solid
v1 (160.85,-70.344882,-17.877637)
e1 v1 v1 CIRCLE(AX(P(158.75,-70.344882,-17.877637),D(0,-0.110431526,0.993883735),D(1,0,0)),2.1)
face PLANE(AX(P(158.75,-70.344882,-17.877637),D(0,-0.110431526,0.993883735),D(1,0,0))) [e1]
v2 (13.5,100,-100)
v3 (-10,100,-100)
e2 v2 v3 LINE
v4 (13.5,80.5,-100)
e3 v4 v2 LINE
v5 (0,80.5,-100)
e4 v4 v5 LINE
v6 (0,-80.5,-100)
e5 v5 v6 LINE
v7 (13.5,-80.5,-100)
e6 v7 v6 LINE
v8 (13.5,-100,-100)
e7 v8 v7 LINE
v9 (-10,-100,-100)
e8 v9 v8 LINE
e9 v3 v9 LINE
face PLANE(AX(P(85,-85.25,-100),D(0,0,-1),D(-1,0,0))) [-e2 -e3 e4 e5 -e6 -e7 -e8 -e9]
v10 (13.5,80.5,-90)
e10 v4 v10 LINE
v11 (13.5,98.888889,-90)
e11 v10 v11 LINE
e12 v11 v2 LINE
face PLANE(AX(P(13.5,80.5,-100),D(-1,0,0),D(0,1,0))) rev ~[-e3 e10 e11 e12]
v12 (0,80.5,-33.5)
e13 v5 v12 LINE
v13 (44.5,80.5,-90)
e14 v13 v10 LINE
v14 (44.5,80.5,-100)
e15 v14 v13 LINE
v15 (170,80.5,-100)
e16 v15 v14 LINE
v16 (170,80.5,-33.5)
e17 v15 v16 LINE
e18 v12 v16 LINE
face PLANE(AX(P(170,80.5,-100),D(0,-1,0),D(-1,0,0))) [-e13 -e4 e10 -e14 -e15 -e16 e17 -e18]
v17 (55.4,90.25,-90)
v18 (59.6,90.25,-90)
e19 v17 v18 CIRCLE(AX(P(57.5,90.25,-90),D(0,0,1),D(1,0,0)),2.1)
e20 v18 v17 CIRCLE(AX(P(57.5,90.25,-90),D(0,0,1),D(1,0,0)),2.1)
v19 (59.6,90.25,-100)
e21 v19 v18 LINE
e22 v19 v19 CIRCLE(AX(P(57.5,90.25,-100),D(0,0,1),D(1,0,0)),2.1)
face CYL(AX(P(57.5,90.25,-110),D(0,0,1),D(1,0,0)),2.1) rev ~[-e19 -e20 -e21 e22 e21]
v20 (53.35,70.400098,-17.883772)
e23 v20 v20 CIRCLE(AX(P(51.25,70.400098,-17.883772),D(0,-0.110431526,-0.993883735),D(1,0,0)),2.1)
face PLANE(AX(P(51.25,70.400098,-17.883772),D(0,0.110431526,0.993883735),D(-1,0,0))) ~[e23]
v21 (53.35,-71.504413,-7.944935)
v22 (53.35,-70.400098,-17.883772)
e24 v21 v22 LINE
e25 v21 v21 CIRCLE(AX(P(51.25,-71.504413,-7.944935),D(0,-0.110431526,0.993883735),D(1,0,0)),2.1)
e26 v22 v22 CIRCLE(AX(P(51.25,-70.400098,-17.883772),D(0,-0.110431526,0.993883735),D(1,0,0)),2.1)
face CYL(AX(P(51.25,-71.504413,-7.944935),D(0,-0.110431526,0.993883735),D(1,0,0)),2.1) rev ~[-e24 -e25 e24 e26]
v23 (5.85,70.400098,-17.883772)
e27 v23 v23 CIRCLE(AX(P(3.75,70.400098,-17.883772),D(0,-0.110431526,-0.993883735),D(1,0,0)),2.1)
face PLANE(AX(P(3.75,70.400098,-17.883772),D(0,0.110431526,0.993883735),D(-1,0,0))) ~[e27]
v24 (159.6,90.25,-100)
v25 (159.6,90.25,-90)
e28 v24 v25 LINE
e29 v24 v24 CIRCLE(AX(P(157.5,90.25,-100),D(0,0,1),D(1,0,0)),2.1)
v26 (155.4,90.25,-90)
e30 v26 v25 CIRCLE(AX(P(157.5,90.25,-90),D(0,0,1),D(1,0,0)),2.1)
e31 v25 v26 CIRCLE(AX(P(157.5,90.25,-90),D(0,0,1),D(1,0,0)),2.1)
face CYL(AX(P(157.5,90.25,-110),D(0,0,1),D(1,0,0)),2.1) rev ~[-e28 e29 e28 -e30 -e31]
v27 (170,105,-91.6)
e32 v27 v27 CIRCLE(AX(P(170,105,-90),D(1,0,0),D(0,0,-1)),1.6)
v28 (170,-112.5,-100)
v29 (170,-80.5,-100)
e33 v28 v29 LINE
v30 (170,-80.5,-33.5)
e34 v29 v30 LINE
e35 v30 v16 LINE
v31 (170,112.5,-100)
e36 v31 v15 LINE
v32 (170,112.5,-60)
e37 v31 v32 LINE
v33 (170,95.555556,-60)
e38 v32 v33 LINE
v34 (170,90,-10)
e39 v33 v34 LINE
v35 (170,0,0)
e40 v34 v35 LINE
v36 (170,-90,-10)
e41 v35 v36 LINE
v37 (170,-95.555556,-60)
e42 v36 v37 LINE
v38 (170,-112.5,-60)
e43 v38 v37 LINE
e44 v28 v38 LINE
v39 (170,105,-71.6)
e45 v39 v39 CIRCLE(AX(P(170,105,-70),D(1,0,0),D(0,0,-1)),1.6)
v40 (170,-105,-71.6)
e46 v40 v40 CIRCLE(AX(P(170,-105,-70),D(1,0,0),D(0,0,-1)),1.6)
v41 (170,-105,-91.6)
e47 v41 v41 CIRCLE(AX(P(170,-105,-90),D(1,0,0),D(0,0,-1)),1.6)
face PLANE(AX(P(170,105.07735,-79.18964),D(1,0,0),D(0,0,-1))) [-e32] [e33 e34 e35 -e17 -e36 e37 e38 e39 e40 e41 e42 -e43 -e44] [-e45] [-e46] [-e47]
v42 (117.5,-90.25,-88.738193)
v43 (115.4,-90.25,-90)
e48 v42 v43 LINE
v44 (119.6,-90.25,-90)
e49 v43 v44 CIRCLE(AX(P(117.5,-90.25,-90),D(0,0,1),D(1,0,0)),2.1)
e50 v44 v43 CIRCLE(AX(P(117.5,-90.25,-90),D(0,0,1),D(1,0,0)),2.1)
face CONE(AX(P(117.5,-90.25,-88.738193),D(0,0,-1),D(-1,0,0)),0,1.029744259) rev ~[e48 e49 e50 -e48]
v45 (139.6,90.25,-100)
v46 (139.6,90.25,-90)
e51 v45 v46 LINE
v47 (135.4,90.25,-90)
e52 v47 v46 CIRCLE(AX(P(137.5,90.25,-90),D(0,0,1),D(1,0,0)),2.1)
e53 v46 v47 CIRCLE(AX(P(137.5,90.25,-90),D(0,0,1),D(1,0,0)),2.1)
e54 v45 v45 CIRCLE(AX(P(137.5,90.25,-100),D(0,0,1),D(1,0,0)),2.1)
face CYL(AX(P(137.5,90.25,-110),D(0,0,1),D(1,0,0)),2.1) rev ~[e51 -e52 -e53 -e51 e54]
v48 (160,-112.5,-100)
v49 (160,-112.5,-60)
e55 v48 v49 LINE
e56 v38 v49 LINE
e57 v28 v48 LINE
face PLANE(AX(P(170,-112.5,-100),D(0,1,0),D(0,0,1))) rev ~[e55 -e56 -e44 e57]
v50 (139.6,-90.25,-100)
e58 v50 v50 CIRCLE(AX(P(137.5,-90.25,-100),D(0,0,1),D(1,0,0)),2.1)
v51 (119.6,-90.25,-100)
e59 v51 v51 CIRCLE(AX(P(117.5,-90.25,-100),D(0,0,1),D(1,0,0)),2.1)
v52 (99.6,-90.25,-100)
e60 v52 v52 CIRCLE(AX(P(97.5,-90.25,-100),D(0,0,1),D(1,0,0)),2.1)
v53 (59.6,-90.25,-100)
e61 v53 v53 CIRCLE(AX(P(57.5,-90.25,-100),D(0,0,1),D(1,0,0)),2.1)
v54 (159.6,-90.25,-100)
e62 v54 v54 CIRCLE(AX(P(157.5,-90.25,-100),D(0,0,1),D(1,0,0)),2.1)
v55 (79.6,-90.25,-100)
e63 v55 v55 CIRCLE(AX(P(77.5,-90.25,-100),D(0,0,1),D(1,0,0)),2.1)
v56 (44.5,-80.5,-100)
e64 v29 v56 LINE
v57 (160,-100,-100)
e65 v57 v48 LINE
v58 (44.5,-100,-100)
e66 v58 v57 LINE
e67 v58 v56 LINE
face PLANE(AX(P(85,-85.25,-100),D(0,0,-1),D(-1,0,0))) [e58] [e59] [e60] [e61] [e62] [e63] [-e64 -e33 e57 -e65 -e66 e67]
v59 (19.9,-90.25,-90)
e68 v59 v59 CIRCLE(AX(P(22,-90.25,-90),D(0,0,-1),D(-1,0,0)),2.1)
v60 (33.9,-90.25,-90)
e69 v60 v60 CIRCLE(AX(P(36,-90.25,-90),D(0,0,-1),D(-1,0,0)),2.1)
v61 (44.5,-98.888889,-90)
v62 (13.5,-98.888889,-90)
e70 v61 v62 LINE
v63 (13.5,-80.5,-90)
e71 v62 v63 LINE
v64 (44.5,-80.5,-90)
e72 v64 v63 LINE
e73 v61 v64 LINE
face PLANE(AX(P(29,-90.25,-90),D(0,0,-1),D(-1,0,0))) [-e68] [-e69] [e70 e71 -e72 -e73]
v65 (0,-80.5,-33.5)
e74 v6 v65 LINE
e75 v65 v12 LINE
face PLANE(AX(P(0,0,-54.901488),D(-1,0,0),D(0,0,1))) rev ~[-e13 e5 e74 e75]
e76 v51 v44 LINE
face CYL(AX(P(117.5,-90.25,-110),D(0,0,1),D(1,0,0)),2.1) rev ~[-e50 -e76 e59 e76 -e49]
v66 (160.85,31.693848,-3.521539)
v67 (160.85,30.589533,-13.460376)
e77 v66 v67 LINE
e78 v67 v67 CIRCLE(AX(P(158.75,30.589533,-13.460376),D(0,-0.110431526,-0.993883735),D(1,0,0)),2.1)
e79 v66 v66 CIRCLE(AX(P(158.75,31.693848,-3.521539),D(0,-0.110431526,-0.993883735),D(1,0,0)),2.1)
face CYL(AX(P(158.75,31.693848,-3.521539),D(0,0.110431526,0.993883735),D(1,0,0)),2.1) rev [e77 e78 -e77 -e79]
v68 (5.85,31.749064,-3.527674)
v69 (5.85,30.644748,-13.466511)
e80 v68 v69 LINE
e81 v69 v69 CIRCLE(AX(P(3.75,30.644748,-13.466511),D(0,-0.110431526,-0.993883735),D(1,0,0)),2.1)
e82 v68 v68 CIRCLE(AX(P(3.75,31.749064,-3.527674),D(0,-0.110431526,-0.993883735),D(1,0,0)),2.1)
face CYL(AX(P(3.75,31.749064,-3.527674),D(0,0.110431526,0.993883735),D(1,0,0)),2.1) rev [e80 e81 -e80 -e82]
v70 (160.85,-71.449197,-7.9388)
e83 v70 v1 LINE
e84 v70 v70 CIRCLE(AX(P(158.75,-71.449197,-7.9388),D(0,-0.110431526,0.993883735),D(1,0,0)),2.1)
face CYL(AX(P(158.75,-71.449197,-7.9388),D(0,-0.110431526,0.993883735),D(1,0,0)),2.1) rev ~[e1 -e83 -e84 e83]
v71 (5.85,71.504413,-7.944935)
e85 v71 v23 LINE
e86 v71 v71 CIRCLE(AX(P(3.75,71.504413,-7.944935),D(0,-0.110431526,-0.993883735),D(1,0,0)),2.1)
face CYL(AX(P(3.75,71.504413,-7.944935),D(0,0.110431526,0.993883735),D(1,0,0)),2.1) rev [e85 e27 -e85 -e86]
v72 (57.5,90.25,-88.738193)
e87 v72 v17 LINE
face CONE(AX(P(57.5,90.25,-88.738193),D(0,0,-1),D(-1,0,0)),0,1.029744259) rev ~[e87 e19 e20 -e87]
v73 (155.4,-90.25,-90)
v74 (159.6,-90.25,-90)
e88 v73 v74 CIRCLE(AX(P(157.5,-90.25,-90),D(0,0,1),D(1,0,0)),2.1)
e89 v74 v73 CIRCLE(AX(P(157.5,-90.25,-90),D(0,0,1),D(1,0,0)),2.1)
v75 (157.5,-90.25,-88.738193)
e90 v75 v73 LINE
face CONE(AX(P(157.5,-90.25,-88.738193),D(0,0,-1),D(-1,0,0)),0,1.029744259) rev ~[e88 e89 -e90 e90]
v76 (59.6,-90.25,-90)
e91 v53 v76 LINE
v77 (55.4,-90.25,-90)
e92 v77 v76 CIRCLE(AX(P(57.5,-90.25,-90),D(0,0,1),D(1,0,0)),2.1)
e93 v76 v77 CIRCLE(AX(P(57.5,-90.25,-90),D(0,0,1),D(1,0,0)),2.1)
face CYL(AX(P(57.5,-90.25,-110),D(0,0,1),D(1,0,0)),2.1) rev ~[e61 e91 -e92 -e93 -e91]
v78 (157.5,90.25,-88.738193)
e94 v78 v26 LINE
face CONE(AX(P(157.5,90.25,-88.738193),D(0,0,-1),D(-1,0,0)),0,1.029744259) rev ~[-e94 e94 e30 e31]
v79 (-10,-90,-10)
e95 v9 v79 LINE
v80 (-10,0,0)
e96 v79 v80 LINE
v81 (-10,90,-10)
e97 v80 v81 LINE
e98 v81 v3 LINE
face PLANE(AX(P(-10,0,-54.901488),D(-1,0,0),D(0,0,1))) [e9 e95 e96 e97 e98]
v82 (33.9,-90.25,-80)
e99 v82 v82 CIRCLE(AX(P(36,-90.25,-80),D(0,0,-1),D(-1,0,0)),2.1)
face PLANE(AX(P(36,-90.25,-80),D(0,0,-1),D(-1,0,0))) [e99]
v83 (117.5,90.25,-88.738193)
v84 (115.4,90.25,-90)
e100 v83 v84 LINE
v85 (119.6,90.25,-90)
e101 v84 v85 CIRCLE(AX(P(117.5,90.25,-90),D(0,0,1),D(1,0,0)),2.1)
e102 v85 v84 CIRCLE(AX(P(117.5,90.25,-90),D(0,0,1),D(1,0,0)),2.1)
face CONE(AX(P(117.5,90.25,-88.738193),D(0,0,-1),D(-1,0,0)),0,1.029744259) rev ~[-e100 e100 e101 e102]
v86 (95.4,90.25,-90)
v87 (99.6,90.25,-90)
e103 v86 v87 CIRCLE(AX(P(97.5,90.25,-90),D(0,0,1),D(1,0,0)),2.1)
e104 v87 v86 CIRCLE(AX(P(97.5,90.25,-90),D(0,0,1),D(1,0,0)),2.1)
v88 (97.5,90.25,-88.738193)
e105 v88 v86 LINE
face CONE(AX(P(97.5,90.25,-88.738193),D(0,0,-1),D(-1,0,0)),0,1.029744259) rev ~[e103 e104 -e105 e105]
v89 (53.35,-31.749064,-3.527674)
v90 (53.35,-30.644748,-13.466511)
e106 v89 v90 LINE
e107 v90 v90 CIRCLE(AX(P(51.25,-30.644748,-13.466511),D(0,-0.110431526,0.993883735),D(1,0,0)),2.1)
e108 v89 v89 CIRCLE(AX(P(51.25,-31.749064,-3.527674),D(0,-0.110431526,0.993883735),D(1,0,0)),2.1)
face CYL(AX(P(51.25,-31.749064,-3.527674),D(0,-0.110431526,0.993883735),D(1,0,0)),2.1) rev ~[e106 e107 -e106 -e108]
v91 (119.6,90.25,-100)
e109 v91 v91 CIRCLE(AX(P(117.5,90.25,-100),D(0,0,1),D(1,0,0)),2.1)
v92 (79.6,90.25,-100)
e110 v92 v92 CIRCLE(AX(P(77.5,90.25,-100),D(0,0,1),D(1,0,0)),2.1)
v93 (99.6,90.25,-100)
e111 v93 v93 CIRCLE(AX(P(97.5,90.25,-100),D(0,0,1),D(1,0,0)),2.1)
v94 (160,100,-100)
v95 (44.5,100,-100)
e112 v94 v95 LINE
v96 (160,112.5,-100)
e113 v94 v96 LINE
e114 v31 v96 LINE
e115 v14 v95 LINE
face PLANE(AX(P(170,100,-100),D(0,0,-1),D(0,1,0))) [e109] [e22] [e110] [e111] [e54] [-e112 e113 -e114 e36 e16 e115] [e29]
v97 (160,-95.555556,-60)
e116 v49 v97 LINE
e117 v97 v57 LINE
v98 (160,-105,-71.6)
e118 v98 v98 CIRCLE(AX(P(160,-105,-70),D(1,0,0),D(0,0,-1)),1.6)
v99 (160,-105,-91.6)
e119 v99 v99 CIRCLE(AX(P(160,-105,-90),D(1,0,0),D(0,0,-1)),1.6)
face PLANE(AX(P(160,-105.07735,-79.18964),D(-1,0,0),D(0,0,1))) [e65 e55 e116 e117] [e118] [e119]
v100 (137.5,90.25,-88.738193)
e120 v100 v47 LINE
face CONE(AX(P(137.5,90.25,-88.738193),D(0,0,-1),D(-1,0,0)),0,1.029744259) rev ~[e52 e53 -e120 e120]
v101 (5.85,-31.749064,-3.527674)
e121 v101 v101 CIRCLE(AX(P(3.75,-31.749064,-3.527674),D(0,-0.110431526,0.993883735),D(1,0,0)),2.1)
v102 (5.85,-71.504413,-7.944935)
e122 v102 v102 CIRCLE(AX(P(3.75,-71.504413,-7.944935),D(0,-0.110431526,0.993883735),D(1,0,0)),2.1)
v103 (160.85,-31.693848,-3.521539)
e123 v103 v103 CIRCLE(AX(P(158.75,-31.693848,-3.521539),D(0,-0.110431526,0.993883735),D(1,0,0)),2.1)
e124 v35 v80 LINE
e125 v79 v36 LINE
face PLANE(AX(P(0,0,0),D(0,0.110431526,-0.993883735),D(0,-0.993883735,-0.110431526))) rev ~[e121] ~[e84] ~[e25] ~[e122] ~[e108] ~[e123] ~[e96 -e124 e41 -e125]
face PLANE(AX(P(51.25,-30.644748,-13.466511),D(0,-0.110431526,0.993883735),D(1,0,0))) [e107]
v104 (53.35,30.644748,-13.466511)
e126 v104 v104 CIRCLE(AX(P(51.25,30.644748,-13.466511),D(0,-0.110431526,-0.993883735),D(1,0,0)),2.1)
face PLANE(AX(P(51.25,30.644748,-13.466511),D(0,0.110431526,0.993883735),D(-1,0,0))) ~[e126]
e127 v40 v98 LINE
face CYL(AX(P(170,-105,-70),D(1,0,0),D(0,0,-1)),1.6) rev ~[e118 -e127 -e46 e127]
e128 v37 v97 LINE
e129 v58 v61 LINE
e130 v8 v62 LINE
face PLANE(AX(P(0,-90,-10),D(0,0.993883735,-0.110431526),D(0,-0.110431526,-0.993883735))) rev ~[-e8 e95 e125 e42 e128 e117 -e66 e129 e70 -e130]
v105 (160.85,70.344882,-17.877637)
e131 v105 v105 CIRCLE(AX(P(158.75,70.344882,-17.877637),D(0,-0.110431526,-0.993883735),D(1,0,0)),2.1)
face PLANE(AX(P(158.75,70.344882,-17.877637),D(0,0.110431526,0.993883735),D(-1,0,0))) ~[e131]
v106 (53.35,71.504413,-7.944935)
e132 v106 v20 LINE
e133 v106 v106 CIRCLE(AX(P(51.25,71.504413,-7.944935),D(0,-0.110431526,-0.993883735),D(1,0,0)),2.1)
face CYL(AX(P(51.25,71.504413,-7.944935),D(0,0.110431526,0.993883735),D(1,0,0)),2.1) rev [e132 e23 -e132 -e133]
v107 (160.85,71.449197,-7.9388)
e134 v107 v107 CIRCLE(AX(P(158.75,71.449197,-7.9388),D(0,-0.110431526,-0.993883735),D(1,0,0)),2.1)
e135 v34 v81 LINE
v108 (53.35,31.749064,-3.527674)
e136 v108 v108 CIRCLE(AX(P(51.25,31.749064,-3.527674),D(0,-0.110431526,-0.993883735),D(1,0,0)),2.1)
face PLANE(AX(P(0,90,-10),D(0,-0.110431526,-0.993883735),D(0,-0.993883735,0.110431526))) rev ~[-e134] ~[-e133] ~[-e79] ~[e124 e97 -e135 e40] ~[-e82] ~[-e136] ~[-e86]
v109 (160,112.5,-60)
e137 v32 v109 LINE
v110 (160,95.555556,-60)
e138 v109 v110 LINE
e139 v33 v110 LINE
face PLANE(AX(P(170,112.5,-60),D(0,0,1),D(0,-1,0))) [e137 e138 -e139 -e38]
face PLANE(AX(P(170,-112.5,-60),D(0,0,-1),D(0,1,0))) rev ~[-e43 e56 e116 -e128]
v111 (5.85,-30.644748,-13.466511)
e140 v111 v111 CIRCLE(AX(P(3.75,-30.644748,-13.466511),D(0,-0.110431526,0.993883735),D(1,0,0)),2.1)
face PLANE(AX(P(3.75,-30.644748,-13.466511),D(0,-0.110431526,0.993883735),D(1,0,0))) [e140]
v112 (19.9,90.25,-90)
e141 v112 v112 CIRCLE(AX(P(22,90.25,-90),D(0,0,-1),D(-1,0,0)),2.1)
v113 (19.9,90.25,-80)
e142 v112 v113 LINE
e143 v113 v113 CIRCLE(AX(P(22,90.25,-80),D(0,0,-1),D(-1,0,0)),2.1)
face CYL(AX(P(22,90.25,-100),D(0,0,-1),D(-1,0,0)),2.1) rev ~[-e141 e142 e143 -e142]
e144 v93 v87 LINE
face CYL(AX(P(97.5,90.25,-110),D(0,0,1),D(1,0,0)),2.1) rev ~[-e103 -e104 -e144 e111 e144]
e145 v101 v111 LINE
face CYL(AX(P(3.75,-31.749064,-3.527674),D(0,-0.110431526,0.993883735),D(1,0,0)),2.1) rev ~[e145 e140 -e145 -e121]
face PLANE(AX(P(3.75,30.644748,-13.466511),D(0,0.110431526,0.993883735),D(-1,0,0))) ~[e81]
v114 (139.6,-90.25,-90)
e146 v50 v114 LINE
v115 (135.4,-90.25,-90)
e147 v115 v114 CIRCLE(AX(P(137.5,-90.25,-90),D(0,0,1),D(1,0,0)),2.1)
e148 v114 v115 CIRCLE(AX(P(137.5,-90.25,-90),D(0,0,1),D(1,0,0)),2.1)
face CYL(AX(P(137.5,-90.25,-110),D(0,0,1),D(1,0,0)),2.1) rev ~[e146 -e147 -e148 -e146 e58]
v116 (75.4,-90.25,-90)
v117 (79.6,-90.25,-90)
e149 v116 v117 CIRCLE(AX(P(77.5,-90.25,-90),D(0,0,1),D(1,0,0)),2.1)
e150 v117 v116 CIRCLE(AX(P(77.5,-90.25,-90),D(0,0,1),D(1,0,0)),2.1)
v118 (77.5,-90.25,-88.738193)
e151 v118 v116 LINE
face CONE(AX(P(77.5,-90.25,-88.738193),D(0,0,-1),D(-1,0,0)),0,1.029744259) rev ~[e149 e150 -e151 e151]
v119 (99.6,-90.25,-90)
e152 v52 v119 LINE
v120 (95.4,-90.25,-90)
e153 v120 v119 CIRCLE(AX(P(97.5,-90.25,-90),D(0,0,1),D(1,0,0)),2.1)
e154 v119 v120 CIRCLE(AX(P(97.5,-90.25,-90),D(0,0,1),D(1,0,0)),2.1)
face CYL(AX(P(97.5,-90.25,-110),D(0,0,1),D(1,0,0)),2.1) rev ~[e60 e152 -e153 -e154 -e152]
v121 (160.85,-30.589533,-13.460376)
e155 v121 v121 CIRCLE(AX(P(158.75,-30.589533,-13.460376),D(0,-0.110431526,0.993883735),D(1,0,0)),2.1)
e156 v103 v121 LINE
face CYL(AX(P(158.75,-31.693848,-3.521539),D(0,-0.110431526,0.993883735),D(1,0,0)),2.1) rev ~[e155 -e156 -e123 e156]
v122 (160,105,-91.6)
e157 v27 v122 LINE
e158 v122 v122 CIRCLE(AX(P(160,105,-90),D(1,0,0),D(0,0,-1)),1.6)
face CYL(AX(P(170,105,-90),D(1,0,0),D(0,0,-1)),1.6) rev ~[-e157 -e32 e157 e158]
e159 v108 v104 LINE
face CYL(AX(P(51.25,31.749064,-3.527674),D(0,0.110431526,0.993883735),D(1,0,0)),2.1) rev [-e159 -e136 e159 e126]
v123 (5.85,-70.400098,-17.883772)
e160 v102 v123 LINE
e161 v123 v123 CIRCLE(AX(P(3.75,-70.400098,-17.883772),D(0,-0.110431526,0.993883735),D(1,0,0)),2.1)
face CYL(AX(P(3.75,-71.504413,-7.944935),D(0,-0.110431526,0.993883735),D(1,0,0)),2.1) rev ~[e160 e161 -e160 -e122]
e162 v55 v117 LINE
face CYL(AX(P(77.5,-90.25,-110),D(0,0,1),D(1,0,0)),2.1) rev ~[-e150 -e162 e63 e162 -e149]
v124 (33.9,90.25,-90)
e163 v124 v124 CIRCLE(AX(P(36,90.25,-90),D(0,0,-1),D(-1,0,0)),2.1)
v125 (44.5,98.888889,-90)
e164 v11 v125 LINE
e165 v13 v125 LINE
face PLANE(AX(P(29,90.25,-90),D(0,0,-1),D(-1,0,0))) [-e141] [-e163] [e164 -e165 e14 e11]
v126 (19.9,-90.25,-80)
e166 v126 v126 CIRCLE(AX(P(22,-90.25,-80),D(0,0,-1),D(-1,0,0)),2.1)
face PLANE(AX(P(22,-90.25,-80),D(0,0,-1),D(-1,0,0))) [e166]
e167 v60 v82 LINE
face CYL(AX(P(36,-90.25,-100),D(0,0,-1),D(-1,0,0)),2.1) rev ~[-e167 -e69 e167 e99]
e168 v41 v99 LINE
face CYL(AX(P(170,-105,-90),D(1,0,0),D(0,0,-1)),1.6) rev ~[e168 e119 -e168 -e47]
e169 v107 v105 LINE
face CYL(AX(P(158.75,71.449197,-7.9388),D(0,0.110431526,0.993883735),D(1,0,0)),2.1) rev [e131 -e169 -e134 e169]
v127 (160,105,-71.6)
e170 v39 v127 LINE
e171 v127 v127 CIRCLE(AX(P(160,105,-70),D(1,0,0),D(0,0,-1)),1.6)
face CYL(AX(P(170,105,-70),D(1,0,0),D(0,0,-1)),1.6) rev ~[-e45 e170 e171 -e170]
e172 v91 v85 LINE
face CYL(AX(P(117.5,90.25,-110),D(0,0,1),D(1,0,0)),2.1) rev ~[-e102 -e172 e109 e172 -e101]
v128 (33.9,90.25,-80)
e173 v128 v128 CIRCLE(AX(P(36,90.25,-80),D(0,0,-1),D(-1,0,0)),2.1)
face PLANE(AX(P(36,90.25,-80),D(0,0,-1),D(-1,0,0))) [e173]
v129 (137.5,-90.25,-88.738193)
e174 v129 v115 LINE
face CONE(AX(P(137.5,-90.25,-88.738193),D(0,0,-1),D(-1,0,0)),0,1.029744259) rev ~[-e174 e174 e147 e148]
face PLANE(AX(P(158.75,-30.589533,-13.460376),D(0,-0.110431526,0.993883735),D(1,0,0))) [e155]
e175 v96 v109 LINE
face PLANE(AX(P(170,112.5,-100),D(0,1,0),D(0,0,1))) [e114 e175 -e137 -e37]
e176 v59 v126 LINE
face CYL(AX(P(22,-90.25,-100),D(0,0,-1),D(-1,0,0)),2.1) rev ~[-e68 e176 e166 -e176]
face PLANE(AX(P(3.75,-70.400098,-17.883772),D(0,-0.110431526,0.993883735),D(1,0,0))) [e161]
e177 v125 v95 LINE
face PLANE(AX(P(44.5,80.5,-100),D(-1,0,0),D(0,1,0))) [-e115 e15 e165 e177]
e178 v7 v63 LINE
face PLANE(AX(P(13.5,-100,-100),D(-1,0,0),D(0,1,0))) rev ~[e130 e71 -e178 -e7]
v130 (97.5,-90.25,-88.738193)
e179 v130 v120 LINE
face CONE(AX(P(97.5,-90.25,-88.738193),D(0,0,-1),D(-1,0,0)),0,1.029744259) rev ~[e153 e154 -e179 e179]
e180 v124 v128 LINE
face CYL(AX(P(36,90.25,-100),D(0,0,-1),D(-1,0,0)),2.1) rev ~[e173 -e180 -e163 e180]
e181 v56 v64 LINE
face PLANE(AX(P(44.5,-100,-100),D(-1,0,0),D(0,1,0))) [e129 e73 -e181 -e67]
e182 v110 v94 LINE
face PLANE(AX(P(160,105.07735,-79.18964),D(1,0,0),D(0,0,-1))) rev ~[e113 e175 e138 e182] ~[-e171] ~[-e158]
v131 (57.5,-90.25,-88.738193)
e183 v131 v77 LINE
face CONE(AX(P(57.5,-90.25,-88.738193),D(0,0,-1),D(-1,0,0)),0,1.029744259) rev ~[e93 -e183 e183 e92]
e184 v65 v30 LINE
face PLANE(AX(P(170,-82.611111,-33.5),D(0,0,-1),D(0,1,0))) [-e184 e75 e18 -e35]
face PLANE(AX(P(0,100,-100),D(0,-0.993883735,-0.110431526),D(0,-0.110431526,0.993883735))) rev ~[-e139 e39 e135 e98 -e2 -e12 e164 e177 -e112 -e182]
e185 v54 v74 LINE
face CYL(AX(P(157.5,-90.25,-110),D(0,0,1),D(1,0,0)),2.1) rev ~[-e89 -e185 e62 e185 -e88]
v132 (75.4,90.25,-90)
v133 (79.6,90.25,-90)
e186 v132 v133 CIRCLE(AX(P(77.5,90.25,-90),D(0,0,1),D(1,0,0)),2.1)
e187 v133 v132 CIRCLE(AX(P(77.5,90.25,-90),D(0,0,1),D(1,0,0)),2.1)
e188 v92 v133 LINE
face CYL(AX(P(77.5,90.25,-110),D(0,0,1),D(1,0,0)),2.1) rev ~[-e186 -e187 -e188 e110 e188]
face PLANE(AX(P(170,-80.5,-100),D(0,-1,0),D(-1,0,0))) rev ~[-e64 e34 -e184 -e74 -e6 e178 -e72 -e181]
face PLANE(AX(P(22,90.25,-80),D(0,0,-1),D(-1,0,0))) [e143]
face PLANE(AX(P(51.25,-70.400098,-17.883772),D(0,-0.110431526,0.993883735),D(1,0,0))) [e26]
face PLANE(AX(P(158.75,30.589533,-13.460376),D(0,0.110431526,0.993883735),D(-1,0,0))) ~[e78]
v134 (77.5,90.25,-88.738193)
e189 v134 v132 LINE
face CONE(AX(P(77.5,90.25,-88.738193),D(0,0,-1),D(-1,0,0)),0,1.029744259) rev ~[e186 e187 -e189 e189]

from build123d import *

# Parameters (mm, degrees)
BOSS_EXTRUDE1_DEPTH       = 10
BOSS_EXTRUDE2_DEPTH       = 170
BOSS_EXTRUDE3_REACH       = 182
BOSS_EXTRUDE4_REACH       = 102
SKETCH8_W                 = 170
SKETCH8_H                 = 9.5
SKETCH9_W                 = 31
SKETCH9_H                 = 19.5
CUT_EXTRUDE1_DEPTH        = 10
SKETCH10_R                = 2.1
CUT_EXTRUDE2_DEPTH        = 20
F_4_0MM_DOWEL_HOLE1_D     = 4.2
F_4_0MM_DOWEL_HOLE1_DEPTH = 10
F_4_0MM_DOWEL_HOLE1_TIP   = 1.2618073
SKETCH13_R                = 2.1
CUT_EXTRUDE3_DEPTH        = 10
BOSS_EXTRUDE5_DEPTH       = 10
CUT_EXTRUDE4_REACH        = 182
SKETCH15_R                = 1.6


with BuildPart() as part:
    # Sketch5 → Boss-Extrude1 (new body)
    with BuildSketch(Plane(origin=(0, 0, 0), x_dir=(0, 0, -1), z_dir=(1, 0, 0))):
        Polygon((0, 0), (10, 90), (100, 100), (100, -100), (10, -90), align=None)
    extrude(amount=-BOSS_EXTRUDE1_DEPTH)

    # Sketch6 → Boss-Extrude2 (add)
    with BuildSketch(Plane(origin=(0, 0, 0), x_dir=(0, 0, -1), z_dir=(1, 0, 0))):
        Polygon((0, 0), (10, -90), (100, -100), (100, -90), (19, -81), (10, 0), (19, 81), (100, 90), (100, 100), (10, 90), align=None)
    extrude(amount=BOSS_EXTRUDE2_DEPTH)

    # Sketch7 → Boss-Extrude3 (add, up to next)
    with BuildSketch(Plane(origin=(170, 0, 0), x_dir=(0, 0, -1), z_dir=(1, 0, 0)), mode=Mode.PRIVATE) as boss_extrude3_sk1:
        Polygon((19, 81), (10, 0), (19, -81), (33.5, -82.611111111), (33.5, 82.611111111), align=None)
    boss_extrude3_tool1 = extrude(boss_extrude3_sk1.sketch, amount=-BOSS_EXTRUDE3_REACH, mode=Mode.PRIVATE) - part.part
    add(boss_extrude3_tool1.solids().sort_by_distance((170, 0, -23.858858))[0])

    # Sketch8 → Boss-Extrude4 (add, up to next)
    with BuildSketch(Plane(origin=(0, 0, -100), x_dir=(-1, 0, 0), z_dir=(0, 0, -1)), mode=Mode.PRIVATE) as boss_extrude4_sk1:
        with Locations((-85, 85.25)):
            Rectangle(SKETCH8_W, SKETCH8_H)
    boss_extrude4_tool1 = extrude(boss_extrude4_sk1.sketch, amount=-BOSS_EXTRUDE4_REACH, mode=Mode.PRIVATE) - part.part
    add(boss_extrude4_tool1.solids().sort_by_distance((85, 85.25, -100))[0])
    # Sketch8 → Boss-Extrude4 (add, up to next)
    with BuildSketch(Plane(origin=(0, 0, -100), x_dir=(-1, 0, 0), z_dir=(0, 0, -1)), mode=Mode.PRIVATE) as boss_extrude4_sk2:
        with Locations((-85, -85.25)):
            Rectangle(SKETCH8_W, SKETCH8_H)
    boss_extrude4_tool2 = extrude(boss_extrude4_sk2.sketch, amount=-BOSS_EXTRUDE4_REACH, mode=Mode.PRIVATE) - part.part
    add(boss_extrude4_tool2.solids().sort_by_distance((85, -85.25, -100))[0])

    # Sketch9 → Cut-Extrude1 (cut)
    with BuildSketch(Plane(origin=(0, 0, -100), x_dir=(-1, 0, 0), z_dir=(0, 0, -1))):
        with Locations((-29, -90.25)):
            Rectangle(SKETCH9_W, SKETCH9_H)
        with Locations((-29, 90.25)):
            Rectangle(SKETCH9_W, SKETCH9_H)
    extrude(amount=-CUT_EXTRUDE1_DEPTH, mode=Mode.SUBTRACT)

    # Sketch10 → Cut-Extrude2 (cut)
    with BuildSketch(Plane(origin=(0, 0, -100), x_dir=(-1, 0, 0), z_dir=(0, 0, -1))):
        with Locations((-22, -90.25)):
            Circle(SKETCH10_R)
        with Locations((-22, 90.25)):
            Circle(SKETCH10_R)
        with Locations((-36, -90.25)):
            Circle(SKETCH10_R)
        with Locations((-36, 90.25)):
            Circle(SKETCH10_R)
    extrude(amount=-CUT_EXTRUDE2_DEPTH, mode=Mode.SUBTRACT)

    # Ø4.0mm Dowel Hole1
    with Locations(Plane(origin=(0, 0, -100), x_dir=(-1, 0, 0), z_dir=(0, 0, -1))):
        with Locations((-157.5, 90.25), (-137.5, 90.25), (-117.5, 90.25), (-97.5, 90.25), (-77.5, 90.25), (-57.5, 90.25), (-157.5, -90.25), (-137.5, -90.25), (-117.5, -90.25), (-97.5, -90.25), (-77.5, -90.25), (-57.5, -90.25)):
            Hole(F_4_0MM_DOWEL_HOLE1_D / 2, depth=F_4_0MM_DOWEL_HOLE1_DEPTH)
            with Locations((0, 0, -(F_4_0MM_DOWEL_HOLE1_DEPTH + F_4_0MM_DOWEL_HOLE1_TIP / 2))):  # 118° drill point
                Cone(0, F_4_0MM_DOWEL_HOLE1_D / 2, F_4_0MM_DOWEL_HOLE1_TIP, mode=Mode.SUBTRACT)

    # Sketch13 → Cut-Extrude3 (cut)
    with BuildSketch(Plane(origin=(0, 0, 0), x_dir=(1, 0, 0), z_dir=(0, -0.110431526, 0.993883735))):
        with Locations((3.75, -31.944444444)):
            Circle(SKETCH13_R)
        with Locations((51.25, -31.944444444)):
            Circle(SKETCH13_R)
        with Locations((3.75, -71.944444444)):
            Circle(SKETCH13_R)
        with Locations((51.25, -71.944444444)):
            Circle(SKETCH13_R)
        with Locations((158.75, -31.888888889)):
            Circle(SKETCH13_R)
        with Locations((158.75, -71.888888889)):
            Circle(SKETCH13_R)
    cut_extrude3 = extrude(amount=-CUT_EXTRUDE3_DEPTH, mode=Mode.SUBTRACT)

    # Mirror1: Cut-Extrude3 across plane
    add(cut_extrude3.mirror(Plane.ZX), mode=Mode.SUBTRACT)

    # Sketch14 → Boss-Extrude5 (add)
    with BuildSketch(Plane(origin=(170, 0, 0), x_dir=(0, 0, -1), z_dir=(1, 0, 0))):
        Polygon((60, 95.555555556), (100, 100), (100, 112.5), (60, 112.5), align=None)
        Polygon((100, -100), (100, -112.5), (60, -112.5), (60, -95.555555556), align=None)
    extrude(amount=-BOSS_EXTRUDE5_DEPTH)

    # Sketch15 → Cut-Extrude4 (cut, up to next)
    with BuildSketch(Plane(origin=(170, 0, 0), x_dir=(0, 0, -1), z_dir=(1, 0, 0)), mode=Mode.PRIVATE) as cut_extrude4_sk1:
        with Locations((70, -105)):
            Circle(SKETCH15_R)
    cut_extrude4_tool1 = extrude(cut_extrude4_sk1.sketch, amount=-CUT_EXTRUDE4_REACH, mode=Mode.PRIVATE) & part.part
    add(cut_extrude4_tool1.solids().sort_by_distance((170, -105, -70))[0], mode=Mode.SUBTRACT)
    # Sketch15 → Cut-Extrude4 (cut, up to next)
    with BuildSketch(Plane(origin=(170, 0, 0), x_dir=(0, 0, -1), z_dir=(1, 0, 0)), mode=Mode.PRIVATE) as cut_extrude4_sk2:
        with Locations((90, -105)):
            Circle(SKETCH15_R)
    cut_extrude4_tool2 = extrude(cut_extrude4_sk2.sketch, amount=-CUT_EXTRUDE4_REACH, mode=Mode.PRIVATE) & part.part
    add(cut_extrude4_tool2.solids().sort_by_distance((170, -105, -90))[0], mode=Mode.SUBTRACT)
    # Sketch15 → Cut-Extrude4 (cut, up to next)
    with BuildSketch(Plane(origin=(170, 0, 0), x_dir=(0, 0, -1), z_dir=(1, 0, 0)), mode=Mode.PRIVATE) as cut_extrude4_sk3:
        with Locations((90, 105)):
            Circle(SKETCH15_R)
    cut_extrude4_tool3 = extrude(cut_extrude4_sk3.sketch, amount=-CUT_EXTRUDE4_REACH, mode=Mode.PRIVATE) & part.part
    add(cut_extrude4_tool3.solids().sort_by_distance((170, 105, -90))[0], mode=Mode.SUBTRACT)
    # Sketch15 → Cut-Extrude4 (cut, up to next)
    with BuildSketch(Plane(origin=(170, 0, 0), x_dir=(0, 0, -1), z_dir=(1, 0, 0)), mode=Mode.PRIVATE) as cut_extrude4_sk4:
        with Locations((70, 105)):
            Circle(SKETCH15_R)
    cut_extrude4_tool4 = extrude(cut_extrude4_sk4.sketch, amount=-CUT_EXTRUDE4_REACH, mode=Mode.PRIVATE) & part.part
    add(cut_extrude4_tool4.solids().sort_by_distance((170, 105, -70))[0], mode=Mode.SUBTRACT)


solid = part.part
